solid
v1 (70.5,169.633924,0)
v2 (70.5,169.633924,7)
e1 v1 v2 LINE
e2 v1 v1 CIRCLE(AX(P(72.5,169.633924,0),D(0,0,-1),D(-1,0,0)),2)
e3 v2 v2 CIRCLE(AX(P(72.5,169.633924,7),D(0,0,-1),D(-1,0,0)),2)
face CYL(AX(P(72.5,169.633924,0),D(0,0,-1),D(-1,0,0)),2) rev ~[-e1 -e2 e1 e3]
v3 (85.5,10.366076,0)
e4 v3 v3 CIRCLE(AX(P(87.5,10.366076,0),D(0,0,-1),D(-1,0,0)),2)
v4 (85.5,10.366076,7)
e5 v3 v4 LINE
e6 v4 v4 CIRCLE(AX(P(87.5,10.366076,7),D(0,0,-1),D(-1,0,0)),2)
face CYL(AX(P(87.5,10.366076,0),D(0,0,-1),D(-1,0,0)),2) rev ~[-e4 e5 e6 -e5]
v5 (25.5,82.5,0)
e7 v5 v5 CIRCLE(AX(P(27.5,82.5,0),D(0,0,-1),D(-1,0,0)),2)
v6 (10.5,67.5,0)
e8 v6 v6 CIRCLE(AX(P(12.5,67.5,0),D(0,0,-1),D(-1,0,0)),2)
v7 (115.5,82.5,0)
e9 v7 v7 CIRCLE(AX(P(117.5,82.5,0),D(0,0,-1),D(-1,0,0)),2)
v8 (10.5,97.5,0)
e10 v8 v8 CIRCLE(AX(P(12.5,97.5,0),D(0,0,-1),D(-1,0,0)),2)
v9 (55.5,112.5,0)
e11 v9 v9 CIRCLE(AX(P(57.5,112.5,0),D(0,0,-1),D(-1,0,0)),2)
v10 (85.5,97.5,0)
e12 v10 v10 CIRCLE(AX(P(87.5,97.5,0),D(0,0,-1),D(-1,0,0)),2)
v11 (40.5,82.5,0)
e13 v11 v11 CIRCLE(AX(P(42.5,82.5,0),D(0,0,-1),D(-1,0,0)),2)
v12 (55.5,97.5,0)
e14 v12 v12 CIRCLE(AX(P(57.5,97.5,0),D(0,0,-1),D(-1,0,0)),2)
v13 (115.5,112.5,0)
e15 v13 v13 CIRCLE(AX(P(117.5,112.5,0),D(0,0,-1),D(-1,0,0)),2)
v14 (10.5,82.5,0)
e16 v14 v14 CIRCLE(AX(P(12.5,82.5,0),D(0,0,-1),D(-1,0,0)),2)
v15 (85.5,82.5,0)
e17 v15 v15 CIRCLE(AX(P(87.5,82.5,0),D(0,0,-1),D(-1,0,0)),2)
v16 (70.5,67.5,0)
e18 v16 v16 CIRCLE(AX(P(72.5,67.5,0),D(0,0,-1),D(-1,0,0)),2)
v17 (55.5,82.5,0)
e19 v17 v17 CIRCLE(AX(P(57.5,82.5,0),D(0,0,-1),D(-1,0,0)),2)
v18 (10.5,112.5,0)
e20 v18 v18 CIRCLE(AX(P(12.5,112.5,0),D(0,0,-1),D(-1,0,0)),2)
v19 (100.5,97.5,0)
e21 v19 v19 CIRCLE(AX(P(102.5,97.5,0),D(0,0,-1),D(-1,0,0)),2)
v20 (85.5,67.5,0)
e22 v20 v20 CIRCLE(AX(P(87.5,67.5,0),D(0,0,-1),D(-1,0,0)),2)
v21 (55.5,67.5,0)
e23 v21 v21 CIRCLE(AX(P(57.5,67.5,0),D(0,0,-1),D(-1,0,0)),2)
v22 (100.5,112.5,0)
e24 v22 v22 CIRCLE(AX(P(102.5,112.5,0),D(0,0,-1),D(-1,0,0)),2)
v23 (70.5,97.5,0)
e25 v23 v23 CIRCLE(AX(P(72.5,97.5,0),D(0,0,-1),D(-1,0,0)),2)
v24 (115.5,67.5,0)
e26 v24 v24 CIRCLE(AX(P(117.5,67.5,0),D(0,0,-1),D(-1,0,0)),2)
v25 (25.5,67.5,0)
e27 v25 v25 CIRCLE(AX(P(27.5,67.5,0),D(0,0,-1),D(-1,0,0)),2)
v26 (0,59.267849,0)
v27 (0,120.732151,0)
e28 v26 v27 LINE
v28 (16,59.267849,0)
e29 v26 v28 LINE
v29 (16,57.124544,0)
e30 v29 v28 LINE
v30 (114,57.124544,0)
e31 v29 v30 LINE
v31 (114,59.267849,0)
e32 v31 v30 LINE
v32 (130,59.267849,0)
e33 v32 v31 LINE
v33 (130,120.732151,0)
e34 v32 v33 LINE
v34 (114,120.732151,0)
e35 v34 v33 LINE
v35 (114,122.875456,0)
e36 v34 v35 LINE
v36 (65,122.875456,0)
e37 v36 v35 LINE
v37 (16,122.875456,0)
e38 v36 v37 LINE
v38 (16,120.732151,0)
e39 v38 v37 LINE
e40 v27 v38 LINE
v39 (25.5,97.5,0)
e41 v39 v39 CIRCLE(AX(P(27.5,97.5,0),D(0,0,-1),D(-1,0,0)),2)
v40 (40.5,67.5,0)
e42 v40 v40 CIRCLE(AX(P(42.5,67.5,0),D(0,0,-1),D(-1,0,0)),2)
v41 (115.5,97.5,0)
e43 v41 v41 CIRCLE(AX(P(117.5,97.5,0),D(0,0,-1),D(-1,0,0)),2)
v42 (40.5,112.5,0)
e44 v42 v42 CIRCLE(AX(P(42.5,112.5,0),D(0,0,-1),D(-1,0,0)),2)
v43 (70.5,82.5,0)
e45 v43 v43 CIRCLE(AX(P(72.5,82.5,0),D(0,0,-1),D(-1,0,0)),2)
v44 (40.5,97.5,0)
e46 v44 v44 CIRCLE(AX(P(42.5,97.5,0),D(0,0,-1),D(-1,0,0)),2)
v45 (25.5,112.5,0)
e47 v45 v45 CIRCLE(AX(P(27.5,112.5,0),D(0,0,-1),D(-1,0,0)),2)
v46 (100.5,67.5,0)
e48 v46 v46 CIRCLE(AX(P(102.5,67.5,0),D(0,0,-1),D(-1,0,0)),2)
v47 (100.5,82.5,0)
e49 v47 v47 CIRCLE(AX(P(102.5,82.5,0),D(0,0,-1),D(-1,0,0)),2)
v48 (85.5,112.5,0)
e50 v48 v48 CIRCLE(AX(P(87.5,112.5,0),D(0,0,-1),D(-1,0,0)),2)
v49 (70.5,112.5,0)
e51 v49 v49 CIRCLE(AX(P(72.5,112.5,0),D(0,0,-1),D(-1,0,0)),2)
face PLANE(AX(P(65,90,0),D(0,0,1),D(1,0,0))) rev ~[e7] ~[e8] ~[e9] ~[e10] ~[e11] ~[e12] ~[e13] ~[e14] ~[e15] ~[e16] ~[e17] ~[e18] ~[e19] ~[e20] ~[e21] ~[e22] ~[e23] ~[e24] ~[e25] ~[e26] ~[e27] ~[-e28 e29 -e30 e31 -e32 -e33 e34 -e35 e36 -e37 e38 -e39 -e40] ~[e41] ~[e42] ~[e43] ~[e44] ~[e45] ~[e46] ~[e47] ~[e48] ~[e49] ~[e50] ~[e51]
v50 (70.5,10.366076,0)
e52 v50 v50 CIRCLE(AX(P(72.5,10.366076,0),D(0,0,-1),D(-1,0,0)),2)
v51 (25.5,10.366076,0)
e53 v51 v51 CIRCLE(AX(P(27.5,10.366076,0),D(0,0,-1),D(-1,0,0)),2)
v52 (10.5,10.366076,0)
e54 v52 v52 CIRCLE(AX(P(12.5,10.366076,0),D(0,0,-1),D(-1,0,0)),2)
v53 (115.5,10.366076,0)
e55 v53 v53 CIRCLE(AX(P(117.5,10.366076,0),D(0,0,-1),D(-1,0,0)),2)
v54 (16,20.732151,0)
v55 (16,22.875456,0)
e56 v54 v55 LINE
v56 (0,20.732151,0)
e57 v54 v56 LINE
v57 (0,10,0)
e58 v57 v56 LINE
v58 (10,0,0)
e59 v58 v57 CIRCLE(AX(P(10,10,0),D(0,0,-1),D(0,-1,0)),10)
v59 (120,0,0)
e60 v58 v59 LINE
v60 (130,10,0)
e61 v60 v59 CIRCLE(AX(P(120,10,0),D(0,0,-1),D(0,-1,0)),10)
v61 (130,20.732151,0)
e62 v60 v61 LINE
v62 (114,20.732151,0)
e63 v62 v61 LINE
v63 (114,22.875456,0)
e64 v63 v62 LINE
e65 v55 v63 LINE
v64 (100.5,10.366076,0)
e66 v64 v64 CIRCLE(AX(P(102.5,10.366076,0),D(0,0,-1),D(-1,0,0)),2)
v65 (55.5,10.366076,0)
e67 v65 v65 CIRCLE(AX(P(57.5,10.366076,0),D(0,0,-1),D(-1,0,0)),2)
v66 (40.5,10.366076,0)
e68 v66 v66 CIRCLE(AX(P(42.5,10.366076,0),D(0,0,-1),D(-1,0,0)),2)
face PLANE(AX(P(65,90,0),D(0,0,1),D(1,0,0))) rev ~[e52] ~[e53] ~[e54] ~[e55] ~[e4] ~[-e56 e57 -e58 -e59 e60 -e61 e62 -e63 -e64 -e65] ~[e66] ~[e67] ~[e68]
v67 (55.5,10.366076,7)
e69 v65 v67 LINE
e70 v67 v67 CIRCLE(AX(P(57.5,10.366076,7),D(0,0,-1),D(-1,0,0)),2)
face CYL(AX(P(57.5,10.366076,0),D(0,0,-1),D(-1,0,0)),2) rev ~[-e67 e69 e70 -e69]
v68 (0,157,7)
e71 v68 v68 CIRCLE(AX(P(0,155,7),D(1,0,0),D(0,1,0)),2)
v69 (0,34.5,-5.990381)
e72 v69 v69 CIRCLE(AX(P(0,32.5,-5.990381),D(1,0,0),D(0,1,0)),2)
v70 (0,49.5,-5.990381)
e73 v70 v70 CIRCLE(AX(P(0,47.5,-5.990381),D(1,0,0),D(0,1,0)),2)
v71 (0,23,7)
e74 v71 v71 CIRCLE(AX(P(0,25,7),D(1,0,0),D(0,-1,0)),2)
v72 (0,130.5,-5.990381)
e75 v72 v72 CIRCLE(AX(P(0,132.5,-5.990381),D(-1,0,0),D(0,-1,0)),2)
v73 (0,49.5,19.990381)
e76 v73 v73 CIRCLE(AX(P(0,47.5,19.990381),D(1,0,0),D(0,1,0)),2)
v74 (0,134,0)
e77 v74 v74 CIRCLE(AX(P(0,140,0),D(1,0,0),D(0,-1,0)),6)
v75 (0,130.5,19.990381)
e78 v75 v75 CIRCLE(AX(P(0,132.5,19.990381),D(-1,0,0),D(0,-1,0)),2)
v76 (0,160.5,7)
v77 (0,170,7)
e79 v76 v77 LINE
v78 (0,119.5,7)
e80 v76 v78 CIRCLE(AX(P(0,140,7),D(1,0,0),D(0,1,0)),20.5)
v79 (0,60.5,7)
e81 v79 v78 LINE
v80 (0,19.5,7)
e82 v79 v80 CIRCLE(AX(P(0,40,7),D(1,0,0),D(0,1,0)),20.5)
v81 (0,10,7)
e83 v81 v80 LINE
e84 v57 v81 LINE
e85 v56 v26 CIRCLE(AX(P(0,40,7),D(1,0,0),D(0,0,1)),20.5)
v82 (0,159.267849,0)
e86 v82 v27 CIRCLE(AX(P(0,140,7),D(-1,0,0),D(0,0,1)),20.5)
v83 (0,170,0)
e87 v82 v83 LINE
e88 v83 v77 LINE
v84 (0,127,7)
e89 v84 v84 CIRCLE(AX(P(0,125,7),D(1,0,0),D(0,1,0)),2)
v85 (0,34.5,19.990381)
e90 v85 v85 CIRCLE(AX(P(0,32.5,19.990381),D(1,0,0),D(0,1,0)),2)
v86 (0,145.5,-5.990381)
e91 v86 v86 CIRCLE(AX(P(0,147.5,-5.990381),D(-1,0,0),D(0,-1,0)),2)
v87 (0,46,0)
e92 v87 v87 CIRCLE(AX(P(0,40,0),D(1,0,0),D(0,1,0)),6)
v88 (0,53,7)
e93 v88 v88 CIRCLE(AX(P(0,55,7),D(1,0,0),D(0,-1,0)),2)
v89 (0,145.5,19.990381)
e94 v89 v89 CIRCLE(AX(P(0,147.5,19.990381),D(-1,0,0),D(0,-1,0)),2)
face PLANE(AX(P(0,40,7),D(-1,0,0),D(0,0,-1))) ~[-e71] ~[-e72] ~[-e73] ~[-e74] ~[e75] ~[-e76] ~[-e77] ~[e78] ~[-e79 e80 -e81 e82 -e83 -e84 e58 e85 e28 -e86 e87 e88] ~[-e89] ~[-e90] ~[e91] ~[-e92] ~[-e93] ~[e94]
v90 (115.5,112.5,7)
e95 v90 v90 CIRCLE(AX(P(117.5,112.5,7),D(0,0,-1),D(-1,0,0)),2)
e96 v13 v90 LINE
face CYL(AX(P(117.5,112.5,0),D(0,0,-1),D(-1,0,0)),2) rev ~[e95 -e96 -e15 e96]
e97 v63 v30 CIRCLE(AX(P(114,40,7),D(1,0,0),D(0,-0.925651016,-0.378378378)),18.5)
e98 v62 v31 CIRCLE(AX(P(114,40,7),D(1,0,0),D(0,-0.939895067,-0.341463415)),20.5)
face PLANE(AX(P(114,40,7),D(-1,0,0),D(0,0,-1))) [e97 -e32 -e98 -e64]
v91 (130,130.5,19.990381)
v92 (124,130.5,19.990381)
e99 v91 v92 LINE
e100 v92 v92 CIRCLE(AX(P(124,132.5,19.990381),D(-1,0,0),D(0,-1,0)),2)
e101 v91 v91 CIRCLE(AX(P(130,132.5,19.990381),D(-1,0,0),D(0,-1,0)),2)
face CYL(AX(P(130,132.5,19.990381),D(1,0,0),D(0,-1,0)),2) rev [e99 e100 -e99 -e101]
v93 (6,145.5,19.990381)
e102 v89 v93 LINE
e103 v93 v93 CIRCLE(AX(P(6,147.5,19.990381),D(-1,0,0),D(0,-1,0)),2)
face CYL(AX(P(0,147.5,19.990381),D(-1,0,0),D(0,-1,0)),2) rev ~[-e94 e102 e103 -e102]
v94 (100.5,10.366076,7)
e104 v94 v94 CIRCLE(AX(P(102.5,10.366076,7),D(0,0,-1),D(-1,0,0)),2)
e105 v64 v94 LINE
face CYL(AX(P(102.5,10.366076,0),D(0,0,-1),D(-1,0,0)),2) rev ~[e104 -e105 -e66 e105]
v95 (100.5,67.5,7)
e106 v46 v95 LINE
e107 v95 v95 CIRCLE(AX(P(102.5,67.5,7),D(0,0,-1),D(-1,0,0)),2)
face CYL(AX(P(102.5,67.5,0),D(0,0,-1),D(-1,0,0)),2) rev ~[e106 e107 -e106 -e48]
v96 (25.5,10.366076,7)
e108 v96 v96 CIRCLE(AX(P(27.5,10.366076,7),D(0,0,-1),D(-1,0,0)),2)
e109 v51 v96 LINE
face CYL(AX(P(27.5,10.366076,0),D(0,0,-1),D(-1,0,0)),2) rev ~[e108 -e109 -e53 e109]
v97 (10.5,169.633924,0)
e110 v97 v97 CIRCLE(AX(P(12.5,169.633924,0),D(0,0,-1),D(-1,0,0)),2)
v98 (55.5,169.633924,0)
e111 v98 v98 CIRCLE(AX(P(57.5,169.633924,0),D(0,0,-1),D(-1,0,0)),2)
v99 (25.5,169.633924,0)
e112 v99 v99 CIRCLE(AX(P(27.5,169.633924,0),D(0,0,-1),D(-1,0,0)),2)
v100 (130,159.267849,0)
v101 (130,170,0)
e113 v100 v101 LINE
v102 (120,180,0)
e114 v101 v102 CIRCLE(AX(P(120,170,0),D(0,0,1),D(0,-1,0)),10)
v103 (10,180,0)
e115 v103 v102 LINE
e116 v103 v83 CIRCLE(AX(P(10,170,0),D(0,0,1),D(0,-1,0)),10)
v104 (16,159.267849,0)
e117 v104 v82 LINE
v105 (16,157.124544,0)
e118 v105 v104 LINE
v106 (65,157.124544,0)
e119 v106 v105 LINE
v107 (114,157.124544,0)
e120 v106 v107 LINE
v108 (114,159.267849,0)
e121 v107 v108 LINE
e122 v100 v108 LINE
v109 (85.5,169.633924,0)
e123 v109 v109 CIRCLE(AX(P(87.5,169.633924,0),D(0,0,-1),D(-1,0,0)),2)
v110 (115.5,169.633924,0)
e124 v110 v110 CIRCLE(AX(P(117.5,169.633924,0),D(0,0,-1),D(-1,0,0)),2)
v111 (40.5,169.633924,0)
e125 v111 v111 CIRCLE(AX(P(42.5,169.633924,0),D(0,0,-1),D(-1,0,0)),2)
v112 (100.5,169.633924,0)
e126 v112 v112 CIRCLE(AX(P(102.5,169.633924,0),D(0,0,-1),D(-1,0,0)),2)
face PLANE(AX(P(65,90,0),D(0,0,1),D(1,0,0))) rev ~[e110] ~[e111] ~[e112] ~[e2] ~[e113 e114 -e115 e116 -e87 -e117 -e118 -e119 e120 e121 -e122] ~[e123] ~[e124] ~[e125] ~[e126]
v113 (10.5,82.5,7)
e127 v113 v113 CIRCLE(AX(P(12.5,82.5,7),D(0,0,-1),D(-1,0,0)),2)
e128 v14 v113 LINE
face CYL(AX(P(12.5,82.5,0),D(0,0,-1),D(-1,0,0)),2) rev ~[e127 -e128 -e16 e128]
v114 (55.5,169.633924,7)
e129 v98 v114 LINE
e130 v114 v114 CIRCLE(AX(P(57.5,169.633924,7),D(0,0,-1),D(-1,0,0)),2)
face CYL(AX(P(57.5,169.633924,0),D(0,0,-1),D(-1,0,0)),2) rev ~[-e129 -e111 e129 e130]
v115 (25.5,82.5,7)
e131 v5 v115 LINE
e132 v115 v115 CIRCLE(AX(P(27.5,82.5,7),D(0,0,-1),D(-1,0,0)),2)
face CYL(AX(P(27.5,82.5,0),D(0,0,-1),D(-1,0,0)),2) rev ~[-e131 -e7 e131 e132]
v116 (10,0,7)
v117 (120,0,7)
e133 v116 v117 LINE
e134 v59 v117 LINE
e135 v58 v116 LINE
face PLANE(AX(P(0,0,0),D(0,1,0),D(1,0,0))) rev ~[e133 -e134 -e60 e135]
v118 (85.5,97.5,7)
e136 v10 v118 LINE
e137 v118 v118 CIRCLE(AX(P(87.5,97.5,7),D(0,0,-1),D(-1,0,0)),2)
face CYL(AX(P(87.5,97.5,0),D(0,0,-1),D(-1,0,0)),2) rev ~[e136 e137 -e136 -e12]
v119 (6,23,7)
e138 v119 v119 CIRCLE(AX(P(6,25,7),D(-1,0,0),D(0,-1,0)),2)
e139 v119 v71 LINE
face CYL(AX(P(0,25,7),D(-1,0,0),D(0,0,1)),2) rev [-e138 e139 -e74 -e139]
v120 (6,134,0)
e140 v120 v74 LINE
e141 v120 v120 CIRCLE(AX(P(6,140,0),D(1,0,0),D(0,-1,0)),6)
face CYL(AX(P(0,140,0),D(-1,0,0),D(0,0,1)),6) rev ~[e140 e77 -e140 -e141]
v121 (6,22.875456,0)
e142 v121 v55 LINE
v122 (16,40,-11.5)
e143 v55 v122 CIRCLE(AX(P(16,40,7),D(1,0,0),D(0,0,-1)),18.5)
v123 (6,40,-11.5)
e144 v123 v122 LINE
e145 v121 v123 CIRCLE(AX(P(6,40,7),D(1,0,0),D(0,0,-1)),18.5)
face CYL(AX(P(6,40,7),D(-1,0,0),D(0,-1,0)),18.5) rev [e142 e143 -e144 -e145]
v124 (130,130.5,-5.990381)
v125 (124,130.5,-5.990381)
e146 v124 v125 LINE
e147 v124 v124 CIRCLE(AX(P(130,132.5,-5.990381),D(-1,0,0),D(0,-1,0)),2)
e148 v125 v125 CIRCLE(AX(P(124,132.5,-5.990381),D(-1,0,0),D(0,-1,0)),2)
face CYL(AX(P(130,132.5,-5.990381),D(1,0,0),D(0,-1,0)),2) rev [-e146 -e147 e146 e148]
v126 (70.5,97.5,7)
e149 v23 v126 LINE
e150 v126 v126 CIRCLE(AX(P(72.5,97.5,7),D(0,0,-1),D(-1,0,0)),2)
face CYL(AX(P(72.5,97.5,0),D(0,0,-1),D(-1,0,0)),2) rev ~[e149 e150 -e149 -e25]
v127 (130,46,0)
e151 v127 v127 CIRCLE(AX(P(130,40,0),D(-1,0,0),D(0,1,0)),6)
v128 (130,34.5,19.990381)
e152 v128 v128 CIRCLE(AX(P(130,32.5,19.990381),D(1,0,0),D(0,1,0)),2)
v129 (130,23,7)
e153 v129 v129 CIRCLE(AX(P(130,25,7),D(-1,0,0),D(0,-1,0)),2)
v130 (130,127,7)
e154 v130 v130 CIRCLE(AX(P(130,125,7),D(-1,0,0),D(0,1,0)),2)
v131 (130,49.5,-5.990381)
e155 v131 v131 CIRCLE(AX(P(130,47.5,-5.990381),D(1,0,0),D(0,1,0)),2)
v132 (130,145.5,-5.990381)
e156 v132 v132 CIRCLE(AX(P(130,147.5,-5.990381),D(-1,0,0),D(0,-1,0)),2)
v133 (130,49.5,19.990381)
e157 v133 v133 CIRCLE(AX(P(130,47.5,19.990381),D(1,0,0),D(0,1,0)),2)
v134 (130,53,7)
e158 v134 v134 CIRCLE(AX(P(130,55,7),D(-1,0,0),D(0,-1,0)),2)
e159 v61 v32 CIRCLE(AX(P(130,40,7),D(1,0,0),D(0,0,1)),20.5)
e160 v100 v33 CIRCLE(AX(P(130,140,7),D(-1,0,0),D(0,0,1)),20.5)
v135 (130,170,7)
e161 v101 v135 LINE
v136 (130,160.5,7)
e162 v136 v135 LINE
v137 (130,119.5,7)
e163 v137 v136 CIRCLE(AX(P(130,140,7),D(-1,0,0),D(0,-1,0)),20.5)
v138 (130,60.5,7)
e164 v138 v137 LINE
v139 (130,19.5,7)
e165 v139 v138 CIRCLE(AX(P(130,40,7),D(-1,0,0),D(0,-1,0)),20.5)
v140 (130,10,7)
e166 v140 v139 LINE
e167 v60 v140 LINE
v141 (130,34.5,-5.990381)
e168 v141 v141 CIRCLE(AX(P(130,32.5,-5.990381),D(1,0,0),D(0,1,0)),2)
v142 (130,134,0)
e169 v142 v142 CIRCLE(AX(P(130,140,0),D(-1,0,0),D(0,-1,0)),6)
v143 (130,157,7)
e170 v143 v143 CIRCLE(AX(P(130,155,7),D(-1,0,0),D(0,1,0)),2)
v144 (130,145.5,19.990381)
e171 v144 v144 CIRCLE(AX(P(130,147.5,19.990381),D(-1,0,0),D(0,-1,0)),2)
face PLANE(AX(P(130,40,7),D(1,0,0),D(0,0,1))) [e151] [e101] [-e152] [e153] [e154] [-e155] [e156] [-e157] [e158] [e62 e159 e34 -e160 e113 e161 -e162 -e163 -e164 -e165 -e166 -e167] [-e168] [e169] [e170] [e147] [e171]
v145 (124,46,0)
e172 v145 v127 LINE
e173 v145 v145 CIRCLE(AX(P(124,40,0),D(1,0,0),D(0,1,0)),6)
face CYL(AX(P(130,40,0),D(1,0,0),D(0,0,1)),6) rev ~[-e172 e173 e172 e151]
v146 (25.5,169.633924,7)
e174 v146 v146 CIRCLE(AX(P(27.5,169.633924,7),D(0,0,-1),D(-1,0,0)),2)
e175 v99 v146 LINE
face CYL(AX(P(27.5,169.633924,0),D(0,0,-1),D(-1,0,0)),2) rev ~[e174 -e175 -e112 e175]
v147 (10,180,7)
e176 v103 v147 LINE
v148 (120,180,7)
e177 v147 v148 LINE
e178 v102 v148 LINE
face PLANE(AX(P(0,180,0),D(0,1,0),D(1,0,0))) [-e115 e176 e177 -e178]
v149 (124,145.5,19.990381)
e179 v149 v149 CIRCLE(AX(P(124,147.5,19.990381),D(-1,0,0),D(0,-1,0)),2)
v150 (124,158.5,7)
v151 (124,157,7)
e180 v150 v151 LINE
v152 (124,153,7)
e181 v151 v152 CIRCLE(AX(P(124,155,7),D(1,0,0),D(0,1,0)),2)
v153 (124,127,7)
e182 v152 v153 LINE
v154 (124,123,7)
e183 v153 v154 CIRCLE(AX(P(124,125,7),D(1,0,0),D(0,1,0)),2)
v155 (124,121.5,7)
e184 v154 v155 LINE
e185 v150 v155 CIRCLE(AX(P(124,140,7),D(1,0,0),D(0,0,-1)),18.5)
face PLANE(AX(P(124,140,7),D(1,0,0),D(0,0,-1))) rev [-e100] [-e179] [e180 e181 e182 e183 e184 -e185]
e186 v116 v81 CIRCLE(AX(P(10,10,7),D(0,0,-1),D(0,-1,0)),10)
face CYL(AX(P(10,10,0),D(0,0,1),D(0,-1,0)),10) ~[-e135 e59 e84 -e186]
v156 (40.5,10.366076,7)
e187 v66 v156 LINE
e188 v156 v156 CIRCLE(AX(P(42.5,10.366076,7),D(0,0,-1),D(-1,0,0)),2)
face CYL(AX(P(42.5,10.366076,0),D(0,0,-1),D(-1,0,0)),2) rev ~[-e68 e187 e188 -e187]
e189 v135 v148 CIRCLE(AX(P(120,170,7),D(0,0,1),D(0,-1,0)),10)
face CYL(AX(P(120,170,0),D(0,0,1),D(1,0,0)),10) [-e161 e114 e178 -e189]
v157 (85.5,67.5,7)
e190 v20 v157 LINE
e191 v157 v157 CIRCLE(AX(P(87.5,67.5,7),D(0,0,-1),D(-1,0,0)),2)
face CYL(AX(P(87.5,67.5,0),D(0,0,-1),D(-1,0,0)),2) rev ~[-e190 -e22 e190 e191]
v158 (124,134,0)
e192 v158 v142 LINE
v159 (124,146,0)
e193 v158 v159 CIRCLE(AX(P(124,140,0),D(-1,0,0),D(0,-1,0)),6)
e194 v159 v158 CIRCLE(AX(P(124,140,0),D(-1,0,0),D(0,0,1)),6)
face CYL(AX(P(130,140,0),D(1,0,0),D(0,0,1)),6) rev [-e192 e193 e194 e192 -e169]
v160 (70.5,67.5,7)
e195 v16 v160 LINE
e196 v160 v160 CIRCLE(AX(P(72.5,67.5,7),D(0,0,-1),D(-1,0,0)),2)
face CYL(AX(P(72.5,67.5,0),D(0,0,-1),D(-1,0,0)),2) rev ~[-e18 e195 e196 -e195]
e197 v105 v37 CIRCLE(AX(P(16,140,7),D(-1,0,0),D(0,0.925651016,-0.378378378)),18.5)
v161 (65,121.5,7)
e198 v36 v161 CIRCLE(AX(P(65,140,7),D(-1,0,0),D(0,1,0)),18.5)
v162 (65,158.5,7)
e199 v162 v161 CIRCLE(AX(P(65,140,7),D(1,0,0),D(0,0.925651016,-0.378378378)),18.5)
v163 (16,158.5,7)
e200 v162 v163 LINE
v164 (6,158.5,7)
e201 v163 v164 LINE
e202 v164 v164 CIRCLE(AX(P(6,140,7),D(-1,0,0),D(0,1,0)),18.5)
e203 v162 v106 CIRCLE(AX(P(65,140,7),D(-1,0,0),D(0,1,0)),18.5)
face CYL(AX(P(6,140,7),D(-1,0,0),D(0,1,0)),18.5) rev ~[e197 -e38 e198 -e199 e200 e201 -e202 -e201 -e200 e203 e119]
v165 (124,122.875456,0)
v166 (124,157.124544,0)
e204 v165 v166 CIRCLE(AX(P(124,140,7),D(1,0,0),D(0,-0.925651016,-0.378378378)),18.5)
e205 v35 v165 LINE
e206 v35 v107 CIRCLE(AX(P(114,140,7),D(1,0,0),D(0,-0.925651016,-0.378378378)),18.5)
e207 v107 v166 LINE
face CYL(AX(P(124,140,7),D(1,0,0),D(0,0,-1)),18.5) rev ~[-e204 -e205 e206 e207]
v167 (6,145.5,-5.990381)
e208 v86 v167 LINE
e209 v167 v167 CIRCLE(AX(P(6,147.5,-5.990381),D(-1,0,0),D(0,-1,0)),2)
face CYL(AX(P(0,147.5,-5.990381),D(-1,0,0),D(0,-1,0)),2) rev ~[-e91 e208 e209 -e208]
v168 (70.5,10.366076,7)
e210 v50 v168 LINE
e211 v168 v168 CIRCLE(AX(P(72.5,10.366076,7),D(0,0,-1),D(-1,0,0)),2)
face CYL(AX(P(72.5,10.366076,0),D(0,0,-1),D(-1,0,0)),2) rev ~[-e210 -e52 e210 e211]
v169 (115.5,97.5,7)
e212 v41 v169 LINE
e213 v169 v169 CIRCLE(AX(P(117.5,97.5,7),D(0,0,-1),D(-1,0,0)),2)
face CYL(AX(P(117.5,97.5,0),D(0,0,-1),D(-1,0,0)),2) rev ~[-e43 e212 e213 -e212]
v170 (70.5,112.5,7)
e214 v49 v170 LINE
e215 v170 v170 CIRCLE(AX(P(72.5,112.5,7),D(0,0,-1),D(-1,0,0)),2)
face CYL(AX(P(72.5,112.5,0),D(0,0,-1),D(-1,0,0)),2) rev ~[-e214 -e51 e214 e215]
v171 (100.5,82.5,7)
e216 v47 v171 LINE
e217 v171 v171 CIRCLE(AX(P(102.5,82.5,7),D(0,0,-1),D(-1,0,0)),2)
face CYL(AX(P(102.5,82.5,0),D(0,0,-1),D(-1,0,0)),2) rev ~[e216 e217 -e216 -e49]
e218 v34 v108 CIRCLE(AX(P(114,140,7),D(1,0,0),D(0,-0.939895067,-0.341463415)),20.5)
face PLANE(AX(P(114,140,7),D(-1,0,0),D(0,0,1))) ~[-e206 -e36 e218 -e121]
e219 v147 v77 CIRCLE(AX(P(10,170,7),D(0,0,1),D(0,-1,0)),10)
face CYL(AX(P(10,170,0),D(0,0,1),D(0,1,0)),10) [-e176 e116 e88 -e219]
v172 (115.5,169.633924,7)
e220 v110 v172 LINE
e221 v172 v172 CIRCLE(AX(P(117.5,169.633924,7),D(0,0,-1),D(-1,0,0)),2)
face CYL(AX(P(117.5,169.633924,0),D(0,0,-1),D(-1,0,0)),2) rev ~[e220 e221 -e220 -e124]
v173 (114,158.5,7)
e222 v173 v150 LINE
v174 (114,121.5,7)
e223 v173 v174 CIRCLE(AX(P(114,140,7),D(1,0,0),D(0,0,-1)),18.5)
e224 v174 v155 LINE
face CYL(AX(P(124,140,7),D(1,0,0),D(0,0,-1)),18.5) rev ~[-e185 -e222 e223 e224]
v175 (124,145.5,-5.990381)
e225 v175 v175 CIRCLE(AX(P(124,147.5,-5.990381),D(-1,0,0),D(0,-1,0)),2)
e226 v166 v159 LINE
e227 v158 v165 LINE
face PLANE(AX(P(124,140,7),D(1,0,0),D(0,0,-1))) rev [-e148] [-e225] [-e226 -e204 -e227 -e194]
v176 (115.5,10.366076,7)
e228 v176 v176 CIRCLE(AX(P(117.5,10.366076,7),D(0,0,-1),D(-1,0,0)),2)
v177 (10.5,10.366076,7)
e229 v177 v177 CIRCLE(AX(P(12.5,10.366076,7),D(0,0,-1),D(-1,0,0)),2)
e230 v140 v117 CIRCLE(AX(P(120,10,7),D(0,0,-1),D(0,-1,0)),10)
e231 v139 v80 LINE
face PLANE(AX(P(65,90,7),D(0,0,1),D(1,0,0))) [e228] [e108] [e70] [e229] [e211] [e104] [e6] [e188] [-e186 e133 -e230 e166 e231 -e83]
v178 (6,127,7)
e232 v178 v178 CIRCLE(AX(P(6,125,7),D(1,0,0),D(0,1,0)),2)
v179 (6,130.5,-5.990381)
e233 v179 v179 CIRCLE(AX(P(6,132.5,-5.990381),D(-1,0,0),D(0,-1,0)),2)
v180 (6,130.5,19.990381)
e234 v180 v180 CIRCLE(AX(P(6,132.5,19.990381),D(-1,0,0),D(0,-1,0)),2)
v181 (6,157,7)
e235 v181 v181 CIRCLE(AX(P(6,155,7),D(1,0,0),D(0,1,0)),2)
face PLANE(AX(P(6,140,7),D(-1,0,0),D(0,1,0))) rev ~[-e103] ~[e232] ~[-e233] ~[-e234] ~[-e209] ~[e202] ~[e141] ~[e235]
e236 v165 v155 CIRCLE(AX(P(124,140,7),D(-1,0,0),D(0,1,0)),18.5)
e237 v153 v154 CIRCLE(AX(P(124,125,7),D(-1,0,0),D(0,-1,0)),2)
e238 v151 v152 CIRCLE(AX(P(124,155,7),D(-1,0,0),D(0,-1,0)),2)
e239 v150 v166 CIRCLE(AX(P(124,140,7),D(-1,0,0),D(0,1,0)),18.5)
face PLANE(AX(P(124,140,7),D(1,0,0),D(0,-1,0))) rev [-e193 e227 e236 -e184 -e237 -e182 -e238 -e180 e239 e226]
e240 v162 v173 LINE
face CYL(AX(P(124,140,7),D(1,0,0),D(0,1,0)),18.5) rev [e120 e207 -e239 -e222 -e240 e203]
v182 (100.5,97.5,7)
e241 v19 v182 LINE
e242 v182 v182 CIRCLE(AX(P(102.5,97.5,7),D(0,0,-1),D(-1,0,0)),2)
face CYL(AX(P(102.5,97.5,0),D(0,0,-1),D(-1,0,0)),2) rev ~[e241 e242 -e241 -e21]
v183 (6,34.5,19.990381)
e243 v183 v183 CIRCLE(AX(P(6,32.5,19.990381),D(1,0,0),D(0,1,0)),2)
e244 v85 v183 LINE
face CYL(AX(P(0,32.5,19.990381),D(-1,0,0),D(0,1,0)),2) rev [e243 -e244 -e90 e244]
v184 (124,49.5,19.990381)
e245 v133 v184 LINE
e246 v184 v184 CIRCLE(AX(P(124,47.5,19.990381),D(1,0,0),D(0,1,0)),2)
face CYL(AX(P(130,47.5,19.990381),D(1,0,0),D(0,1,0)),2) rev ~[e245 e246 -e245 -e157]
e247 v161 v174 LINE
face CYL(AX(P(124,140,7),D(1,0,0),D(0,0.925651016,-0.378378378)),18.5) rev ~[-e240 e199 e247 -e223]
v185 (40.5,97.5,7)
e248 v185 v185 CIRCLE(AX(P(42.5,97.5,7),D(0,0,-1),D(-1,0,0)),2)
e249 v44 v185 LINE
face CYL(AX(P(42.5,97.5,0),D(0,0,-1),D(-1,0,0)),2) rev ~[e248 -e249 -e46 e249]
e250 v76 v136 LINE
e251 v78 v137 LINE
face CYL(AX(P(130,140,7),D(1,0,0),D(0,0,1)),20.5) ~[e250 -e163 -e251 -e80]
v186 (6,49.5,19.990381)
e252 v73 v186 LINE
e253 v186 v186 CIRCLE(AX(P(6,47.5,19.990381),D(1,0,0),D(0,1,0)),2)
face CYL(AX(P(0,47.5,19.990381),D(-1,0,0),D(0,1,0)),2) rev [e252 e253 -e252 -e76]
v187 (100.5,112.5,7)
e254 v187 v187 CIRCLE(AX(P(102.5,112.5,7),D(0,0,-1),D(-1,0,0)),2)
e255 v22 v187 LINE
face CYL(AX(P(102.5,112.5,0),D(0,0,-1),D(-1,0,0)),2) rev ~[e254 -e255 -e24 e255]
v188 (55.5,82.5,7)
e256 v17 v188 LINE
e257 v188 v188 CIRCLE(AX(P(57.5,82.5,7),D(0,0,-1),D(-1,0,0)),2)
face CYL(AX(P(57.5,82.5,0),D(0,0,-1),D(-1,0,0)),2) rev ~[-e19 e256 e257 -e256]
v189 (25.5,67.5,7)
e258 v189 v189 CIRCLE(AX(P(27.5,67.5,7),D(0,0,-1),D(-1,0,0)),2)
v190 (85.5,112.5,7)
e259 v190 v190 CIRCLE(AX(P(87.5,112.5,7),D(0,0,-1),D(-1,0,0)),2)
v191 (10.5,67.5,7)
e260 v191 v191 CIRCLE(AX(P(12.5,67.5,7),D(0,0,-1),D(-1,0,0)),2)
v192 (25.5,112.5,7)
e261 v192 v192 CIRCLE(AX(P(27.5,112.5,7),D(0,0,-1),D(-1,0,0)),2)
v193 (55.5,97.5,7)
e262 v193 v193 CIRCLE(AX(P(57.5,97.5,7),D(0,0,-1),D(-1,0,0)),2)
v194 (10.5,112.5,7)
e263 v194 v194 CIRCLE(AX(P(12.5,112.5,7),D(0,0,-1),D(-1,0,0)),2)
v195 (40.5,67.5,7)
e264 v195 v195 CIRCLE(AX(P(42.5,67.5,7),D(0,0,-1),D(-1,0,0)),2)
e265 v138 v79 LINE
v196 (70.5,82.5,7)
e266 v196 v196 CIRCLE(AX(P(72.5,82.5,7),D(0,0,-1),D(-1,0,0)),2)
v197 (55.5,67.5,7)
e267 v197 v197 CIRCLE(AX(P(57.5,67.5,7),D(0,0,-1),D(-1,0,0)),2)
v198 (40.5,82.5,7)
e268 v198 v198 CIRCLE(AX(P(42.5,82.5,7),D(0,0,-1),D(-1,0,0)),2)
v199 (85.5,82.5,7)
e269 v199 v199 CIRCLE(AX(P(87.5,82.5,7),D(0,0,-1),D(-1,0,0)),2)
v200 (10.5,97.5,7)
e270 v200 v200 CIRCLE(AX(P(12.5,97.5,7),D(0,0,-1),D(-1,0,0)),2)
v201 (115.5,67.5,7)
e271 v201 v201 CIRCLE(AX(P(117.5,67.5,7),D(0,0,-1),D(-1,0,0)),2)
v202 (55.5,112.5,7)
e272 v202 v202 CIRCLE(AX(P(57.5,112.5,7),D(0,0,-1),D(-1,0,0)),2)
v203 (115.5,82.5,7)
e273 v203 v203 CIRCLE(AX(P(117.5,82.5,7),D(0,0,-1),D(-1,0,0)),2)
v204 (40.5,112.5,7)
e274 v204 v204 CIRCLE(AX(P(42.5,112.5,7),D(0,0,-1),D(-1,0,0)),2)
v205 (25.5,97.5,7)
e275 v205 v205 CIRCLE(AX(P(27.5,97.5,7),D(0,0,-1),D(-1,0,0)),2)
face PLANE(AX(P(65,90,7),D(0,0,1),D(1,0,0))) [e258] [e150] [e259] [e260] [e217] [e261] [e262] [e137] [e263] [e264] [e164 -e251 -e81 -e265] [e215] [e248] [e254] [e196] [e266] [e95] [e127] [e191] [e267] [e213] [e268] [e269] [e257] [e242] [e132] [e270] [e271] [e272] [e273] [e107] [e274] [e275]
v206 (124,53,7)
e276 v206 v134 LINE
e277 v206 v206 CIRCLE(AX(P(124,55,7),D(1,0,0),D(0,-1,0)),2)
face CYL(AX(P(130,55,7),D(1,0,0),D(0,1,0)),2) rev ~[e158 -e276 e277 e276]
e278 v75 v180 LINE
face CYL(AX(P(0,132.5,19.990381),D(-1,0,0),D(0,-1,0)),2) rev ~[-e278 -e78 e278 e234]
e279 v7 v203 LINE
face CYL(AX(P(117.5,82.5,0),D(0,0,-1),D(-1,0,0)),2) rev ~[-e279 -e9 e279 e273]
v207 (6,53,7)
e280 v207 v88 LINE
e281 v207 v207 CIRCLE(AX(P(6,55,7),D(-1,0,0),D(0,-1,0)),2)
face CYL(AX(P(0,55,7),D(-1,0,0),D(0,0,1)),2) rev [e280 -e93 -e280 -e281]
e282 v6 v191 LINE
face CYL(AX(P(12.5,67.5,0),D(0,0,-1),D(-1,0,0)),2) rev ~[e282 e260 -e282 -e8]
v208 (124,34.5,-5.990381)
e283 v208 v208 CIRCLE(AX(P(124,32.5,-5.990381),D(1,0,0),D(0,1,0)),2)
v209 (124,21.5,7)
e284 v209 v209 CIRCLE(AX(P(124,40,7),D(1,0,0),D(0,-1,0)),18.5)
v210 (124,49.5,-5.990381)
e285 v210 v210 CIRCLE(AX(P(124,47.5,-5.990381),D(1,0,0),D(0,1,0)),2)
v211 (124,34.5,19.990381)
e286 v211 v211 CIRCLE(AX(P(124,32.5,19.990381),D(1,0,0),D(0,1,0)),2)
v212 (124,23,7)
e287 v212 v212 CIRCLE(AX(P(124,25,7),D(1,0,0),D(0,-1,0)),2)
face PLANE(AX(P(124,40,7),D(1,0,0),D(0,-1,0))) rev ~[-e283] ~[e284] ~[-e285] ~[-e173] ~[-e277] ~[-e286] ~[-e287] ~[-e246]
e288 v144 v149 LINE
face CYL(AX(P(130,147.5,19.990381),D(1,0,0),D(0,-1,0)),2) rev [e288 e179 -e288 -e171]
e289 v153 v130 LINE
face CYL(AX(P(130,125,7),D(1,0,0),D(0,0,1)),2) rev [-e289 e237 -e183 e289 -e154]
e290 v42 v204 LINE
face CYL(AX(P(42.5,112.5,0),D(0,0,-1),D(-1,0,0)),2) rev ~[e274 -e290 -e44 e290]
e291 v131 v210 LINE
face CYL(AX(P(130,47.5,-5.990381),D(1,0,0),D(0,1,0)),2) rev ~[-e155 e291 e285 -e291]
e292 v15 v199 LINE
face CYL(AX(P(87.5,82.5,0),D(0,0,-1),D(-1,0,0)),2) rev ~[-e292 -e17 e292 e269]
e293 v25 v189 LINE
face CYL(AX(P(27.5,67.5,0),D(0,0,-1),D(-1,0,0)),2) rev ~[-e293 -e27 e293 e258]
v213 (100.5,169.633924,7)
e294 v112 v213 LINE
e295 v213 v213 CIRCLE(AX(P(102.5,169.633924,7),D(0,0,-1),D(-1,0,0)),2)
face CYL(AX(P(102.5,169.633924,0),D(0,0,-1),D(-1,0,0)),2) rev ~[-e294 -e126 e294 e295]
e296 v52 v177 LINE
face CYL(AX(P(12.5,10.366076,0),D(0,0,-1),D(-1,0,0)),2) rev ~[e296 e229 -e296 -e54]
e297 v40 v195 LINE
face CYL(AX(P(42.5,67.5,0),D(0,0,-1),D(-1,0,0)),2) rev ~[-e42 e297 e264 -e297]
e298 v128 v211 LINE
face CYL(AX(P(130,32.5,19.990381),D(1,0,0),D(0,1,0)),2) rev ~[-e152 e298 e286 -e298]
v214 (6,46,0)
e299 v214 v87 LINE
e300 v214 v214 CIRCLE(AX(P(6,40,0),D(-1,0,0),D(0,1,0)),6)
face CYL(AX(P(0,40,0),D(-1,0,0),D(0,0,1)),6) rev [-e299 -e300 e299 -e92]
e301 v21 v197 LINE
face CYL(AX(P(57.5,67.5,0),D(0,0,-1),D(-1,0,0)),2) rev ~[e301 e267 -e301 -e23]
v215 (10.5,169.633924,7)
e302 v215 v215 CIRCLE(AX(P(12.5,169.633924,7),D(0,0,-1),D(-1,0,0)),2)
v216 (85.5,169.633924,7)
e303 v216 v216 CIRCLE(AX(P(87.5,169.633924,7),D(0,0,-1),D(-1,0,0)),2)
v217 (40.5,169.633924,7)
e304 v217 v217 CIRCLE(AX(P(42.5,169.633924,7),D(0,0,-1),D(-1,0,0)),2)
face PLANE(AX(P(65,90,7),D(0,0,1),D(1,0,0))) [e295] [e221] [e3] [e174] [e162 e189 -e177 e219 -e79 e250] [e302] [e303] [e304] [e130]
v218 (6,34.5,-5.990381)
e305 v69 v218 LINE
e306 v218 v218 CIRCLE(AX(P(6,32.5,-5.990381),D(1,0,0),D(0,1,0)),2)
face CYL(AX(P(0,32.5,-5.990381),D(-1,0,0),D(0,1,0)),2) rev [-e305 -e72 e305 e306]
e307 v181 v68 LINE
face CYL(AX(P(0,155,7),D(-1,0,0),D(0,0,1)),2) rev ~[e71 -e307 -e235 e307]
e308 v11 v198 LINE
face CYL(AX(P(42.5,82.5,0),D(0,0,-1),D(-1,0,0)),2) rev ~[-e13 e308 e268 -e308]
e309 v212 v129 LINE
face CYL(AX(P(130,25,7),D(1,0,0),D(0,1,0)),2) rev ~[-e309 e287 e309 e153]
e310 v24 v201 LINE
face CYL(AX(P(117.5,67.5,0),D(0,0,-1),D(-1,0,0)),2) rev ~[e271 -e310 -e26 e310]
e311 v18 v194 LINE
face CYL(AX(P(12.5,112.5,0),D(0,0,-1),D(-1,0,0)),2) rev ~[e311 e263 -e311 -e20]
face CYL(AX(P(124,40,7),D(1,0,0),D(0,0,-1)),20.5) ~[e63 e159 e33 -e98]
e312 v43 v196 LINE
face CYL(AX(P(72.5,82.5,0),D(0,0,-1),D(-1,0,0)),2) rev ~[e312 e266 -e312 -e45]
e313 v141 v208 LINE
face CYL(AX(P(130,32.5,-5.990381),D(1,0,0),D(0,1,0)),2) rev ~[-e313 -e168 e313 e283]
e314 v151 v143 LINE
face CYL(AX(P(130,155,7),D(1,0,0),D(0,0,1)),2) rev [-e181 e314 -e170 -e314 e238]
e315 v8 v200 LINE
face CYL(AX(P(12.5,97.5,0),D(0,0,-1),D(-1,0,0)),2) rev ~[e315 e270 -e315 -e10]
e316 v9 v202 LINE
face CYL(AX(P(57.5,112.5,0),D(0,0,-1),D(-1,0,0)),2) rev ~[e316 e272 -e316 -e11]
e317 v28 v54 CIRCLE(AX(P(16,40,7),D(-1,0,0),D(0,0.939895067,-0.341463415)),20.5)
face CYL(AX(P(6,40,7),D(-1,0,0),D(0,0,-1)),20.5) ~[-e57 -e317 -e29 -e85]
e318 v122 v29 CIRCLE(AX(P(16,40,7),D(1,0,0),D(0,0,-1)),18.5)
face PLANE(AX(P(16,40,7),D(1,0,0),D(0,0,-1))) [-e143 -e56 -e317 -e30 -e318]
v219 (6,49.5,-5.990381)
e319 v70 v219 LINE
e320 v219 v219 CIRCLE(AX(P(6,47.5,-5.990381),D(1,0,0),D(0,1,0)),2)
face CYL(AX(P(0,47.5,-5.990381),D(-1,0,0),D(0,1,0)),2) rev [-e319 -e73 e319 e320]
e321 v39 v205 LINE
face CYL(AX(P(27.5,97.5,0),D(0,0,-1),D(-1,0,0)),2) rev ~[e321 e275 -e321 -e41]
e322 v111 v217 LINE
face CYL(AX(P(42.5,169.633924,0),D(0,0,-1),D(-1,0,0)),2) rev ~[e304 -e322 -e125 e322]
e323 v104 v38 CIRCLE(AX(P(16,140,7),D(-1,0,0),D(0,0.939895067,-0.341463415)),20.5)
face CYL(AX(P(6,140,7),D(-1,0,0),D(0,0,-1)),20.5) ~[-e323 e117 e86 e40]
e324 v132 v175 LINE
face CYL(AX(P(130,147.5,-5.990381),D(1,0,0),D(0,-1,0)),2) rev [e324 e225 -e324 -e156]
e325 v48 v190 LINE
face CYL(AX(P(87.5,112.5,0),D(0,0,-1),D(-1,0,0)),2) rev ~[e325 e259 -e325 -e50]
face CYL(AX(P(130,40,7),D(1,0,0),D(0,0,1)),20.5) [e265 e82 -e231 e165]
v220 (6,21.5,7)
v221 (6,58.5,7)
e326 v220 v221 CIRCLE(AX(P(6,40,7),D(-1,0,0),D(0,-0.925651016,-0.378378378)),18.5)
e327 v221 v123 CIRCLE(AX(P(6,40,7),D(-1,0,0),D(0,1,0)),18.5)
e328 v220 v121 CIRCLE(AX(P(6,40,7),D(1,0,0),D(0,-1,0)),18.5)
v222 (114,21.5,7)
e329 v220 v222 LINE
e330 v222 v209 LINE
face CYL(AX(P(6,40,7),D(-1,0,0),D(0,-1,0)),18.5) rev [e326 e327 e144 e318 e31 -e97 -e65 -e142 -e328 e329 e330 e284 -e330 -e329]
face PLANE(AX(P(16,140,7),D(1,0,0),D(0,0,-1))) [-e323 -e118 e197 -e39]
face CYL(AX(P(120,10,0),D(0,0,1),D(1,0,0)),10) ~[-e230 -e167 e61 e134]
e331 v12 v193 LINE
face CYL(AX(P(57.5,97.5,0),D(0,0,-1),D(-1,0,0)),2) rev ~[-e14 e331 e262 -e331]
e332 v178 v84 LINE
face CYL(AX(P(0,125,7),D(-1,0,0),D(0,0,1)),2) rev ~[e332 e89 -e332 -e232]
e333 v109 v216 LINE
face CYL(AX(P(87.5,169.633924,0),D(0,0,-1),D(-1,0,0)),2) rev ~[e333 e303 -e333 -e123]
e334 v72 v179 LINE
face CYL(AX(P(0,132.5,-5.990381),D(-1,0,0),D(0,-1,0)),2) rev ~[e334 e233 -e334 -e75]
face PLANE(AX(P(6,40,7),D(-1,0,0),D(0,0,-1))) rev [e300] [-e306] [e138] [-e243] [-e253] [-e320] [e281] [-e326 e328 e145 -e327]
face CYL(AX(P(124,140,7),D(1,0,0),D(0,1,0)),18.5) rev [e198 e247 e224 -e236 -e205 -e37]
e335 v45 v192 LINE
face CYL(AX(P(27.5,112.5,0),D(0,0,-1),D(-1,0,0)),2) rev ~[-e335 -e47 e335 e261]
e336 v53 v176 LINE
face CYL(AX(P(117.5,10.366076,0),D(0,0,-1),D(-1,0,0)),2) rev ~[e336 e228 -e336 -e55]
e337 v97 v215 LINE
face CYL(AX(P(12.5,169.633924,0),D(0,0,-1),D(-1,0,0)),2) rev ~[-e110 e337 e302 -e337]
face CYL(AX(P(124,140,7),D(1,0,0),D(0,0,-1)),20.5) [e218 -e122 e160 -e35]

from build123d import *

# Parameters (mm, degrees)
SKIZZE1_W                        = 130
SKIZZE1_H                        = 180
AUFSATZ_LINEAR_AUSTRAGEN1_DEPTH  = 7
SKIZZE2_R                        = 20.5
SKIZZE2_R_2                      = 6
SKIZZE2_R_3                      = 2
AUFSATZ_LINEAR_AUSTRAGEN3_DEPTH  = 6
SKIZZE14_R                       = 20.5
SKIZZE14_R_2                     = 18.5
AUFSATZ_LINEAR_AUSTRAGEN14_DEPTH = 10
AUFSATZ_LINEAR_AUSTRAGEN4_DEPTH  = 59
SCHNITT_LINEAR_START             = 59
SKIZZE10_R                       = 18.5
SCHNITT_LINEAR_AUSTRAGEN3_DEPTH  = 59
SKIZZE11_R                       = 2
SKIZZE11_R_2                     = 6
SCHNITT_LINEAR_AUSTRAGEN4_DEPTH  = 6
SPIEGELN2_COPY_1_SKETCH_R        = 20.5
SPIEGELN2_COPY_1_SKETCH_R_2      = 6
SPIEGELN2_COPY_1_SKETCH_R_3      = 2
SPIEGELN2_COPY_1_DEPTH           = 6
SPIEGELN2_COPY_2_SKETCH_R        = 20.5
SPIEGELN2_COPY_2_SKETCH_R_2      = 18.5
SPIEGELN2_COPY_2_DEPTH           = 10
SPIEGELN2_COPY_3_DEPTH           = 59
SPIEGELN2_START                  = 59
SPIEGELN2_COPY_4_SKETCH_R        = 18.5
SPIEGELN2_COPY_4_DEPTH           = 59
SPIEGELN2_COPY_5_SKETCH_R        = 2
SPIEGELN2_COPY_5_SKETCH_R_2      = 6
SPIEGELN2_COPY_5_DEPTH           = 6
SPIEGELN2_COPY_6_SKETCH_R        = 20.5
SPIEGELN2_COPY_6_SKETCH_R_2      = 18.5
SPIEGELN2_COPY_6_DEPTH           = 10
SKIZZE13_R                       = 2
SCHNITT_LINEAR_AUSTRAGEN6_DEPTH  = 20
VERRUNDUNG1_R                    = 10


with BuildPart() as part:
    # Skizze1 → Aufsatz-Linear austragen1 (new body)
    with BuildSketch(Plane.XY):
        with Locations((65, 90)):
            Rectangle(SKIZZE1_W, SKIZZE1_H)
    extrude(amount=AUFSATZ_LINEAR_AUSTRAGEN1_DEPTH)

    # Skizze2 → Aufsatz-Linear austragen3 (add)
    with BuildSketch(Plane.ZY):
        with Locations((7, 140)):
            Circle(SKIZZE2_R)
        with Locations((0, 140)):
            Circle(SKIZZE2_R_2, mode=Mode.SUBTRACT)
        with Locations(Location((19.990381057, 147.5, 0), (0, 0, 270))):
            Circle(SKIZZE2_R_3, mode=Mode.SUBTRACT)
        with Locations(Location((19.990381057, 132.5, 0), (0, 0, 270))):
            Circle(SKIZZE2_R_3, mode=Mode.SUBTRACT)
        with Locations((7, 125)):
            Circle(SKIZZE2_R_3, mode=Mode.SUBTRACT)
        with Locations((7, 155)):
            Circle(SKIZZE2_R_3, mode=Mode.SUBTRACT)
        with Locations(Location((-5.990381057, 147.5, 0), (0, 0, 270))):
            Circle(SKIZZE2_R_3, mode=Mode.SUBTRACT)
        with Locations(Location((-5.990381057, 132.5, 0), (0, 0, 270))):
            Circle(SKIZZE2_R_3, mode=Mode.SUBTRACT)
    aufsatz_linear_austragen3 = extrude(amount=-AUFSATZ_LINEAR_AUSTRAGEN3_DEPTH)

    # Skizze14 → Aufsatz-Linear austragen14 (add)
    with BuildSketch(Plane(origin=(6, 0, 0), x_dir=(0, 0, -1), z_dir=(1, 0, 0))):
        with Locations((-7, 140)):
            Circle(SKIZZE14_R)
        with Locations((-7, 140)):
            Circle(SKIZZE14_R_2, mode=Mode.SUBTRACT)
    aufsatz_linear_austragen14 = extrude(amount=AUFSATZ_LINEAR_AUSTRAGEN14_DEPTH)

    # Skizze7 → Aufsatz-Linear austragen4 (add)
    with BuildSketch(Plane(origin=(6, 0, 0), x_dir=(0, 0, -1), z_dir=(1, 0, 0))):
        with BuildLine():
            Line((0, 159.267848868), (0, 157.12454379))
            ThreePointArc((0, 157.12454379), (-25.5, 140), (0, 122.87545621))
            Line((0, 122.87545621), (0, 120.732151132))
            ThreePointArc((0, 120.732151132), (-27.5, 140), (0, 159.267848868))
        make_face()
    aufsatz_linear_austragen4 = extrude(amount=AUFSATZ_LINEAR_AUSTRAGEN4_DEPTH)

    # Skizze10 → Schnitt-Linear austragen3 (cut)
    with BuildSketch(Plane.ZY.offset(-65).offset(SCHNITT_LINEAR_START)):
        with Locations(Location((7, 140, 0), (0, 0, 90))):
            Circle(SKIZZE10_R)
    schnitt_linear_austragen3 = extrude(amount=-SCHNITT_LINEAR_AUSTRAGEN3_DEPTH, mode=Mode.SUBTRACT)

    # Skizze11 → Schnitt-Linear austragen4 (cut)
    with BuildSketch(Plane.ZY):
        with Locations(Location((7, 155, 0), (0, 0, 270))):
            Circle(SKIZZE11_R)
        with Locations(Location((7, 125, 0), (0, 0, 270))):
            Circle(SKIZZE11_R)
        with Locations(Location((0, 140, 0), (0, 0, 270))):
            Circle(SKIZZE11_R_2)
    schnitt_linear_austragen4 = extrude(amount=-SCHNITT_LINEAR_AUSTRAGEN4_DEPTH, mode=Mode.SUBTRACT)

    # Spiegeln1: Aufsatz-Linear austragen3, Aufsatz-Linear austragen14, Aufsatz-Linear austragen4, Schnitt-Linear austragen3, Schnitt-Linear austragen4 across plane
    add(aufsatz_linear_austragen3.mirror(Plane.ZY.offset(-65)))
    add(aufsatz_linear_austragen14.mirror(Plane.ZY.offset(-65)))
    add(aufsatz_linear_austragen4.mirror(Plane.ZY.offset(-65)))
    add(schnitt_linear_austragen3.mirror(Plane.ZY.offset(-65)), mode=Mode.SUBTRACT)
    add(schnitt_linear_austragen4.mirror(Plane.ZY.offset(-65)), mode=Mode.SUBTRACT)

    # Spiegeln2: Aufsatz-Linear austragen3, Aufsatz-Linear austragen4, Schnitt-Linear austragen3, Schnitt-Linear austragen4 across plane
    add(aufsatz_linear_austragen3.mirror(Plane(origin=(0, 90, 0), x_dir=(0, 0, 1), z_dir=(0, -1, 0))))
    add(aufsatz_linear_austragen4.mirror(Plane(origin=(0, 90, 0), x_dir=(0, 0, 1), z_dir=(0, -1, 0))))
    add(schnitt_linear_austragen3.mirror(Plane(origin=(0, 90, 0), x_dir=(0, 0, 1), z_dir=(0, -1, 0))), mode=Mode.SUBTRACT)
    add(schnitt_linear_austragen4.mirror(Plane(origin=(0, 90, 0), x_dir=(0, 0, 1), z_dir=(0, -1, 0))), mode=Mode.SUBTRACT)

    # Spiegeln2 copy 1 sketch → Spiegeln2 copy 1 (add)
    with BuildSketch(Plane(origin=(130, 180, 0), x_dir=(0, 0, 1), z_dir=(1, 0, 0))):
        with Locations((7, 140)):
            Circle(SPIEGELN2_COPY_1_SKETCH_R)
        with Locations((0, 140)):
            Circle(SPIEGELN2_COPY_1_SKETCH_R_2, mode=Mode.SUBTRACT)
        with Locations(Location((19.990381057, 147.5, 0), (0, 0, 270))):
            Circle(SPIEGELN2_COPY_1_SKETCH_R_3, mode=Mode.SUBTRACT)
        with Locations(Location((19.990381057, 132.5, 0), (0, 0, 270))):
            Circle(SPIEGELN2_COPY_1_SKETCH_R_3, mode=Mode.SUBTRACT)
        with Locations((7, 125)):
            Circle(SPIEGELN2_COPY_1_SKETCH_R_3, mode=Mode.SUBTRACT)
        with Locations((7, 155)):
            Circle(SPIEGELN2_COPY_1_SKETCH_R_3, mode=Mode.SUBTRACT)
        with Locations(Location((-5.990381057, 147.5, 0), (0, 0, 270))):
            Circle(SPIEGELN2_COPY_1_SKETCH_R_3, mode=Mode.SUBTRACT)
        with Locations(Location((-5.990381057, 132.5, 0), (0, 0, 270))):
            Circle(SPIEGELN2_COPY_1_SKETCH_R_3, mode=Mode.SUBTRACT)
    extrude(amount=-SPIEGELN2_COPY_1_DEPTH)

    # Spiegeln2 copy 2 sketch → Spiegeln2 copy 2 (add)
    with BuildSketch(Plane(origin=(124, 180, 0), x_dir=(0, 0, -1), z_dir=(-1, 0, 0))):
        with Locations((-7, 140)):
            Circle(SPIEGELN2_COPY_2_SKETCH_R)
        with Locations((-7, 140)):
            Circle(SPIEGELN2_COPY_2_SKETCH_R_2, mode=Mode.SUBTRACT)
    extrude(amount=SPIEGELN2_COPY_2_DEPTH)

    # Spiegeln2 copy 3 sketch → Spiegeln2 copy 3 (add)
    with BuildSketch(Plane(origin=(124, 180, 0), x_dir=(0, 0, -1), z_dir=(-1, 0, 0))):
        with BuildLine():
            Line((0, 159.267848868), (0, 157.12454379))
            ThreePointArc((0, 157.12454379), (-25.5, 140), (0, 122.87545621))
            Line((0, 122.87545621), (0, 120.732151132))
            ThreePointArc((0, 120.732151132), (-27.5, 140), (0, 159.267848868))
        make_face()
    extrude(amount=SPIEGELN2_COPY_3_DEPTH)

    # Spiegeln2 copy 4 sketch → Spiegeln2 copy 4 (cut)
    with BuildSketch(Plane(origin=(65, 180, 0), x_dir=(0, 0, 1), z_dir=(1, 0, 0)).offset(SPIEGELN2_START)):
        with Locations(Location((7, 140, 0), (0, 0, 90))):
            Circle(SPIEGELN2_COPY_4_SKETCH_R)
    extrude(amount=-SPIEGELN2_COPY_4_DEPTH, mode=Mode.SUBTRACT)

    # Spiegeln2 copy 5 sketch → Spiegeln2 copy 5 (cut)
    with BuildSketch(Plane(origin=(130, 180, 0), x_dir=(0, 0, 1), z_dir=(1, 0, 0))):
        with Locations(Location((7, 155, 0), (0, 0, 270))):
            Circle(SPIEGELN2_COPY_5_SKETCH_R)
        with Locations(Location((7, 125, 0), (0, 0, 270))):
            Circle(SPIEGELN2_COPY_5_SKETCH_R)
        with Locations(Location((0, 140, 0), (0, 0, 270))):
            Circle(SPIEGELN2_COPY_5_SKETCH_R_2)
    extrude(amount=-SPIEGELN2_COPY_5_DEPTH, mode=Mode.SUBTRACT)

    # Spiegeln2 copy 6 sketch → Spiegeln2 copy 6 (add)
    with BuildSketch(Plane(origin=(6, 180, 0), x_dir=(0, 0, -1), z_dir=(1, 0, 0))):
        with Locations((-7, -140)):
            Circle(SPIEGELN2_COPY_6_SKETCH_R)
        with Locations((-7, -140)):
            Circle(SPIEGELN2_COPY_6_SKETCH_R_2, mode=Mode.SUBTRACT)
    extrude(amount=SPIEGELN2_COPY_6_DEPTH)

    # Skizze13 → Schnitt-Linear austragen6 (cut)
    with BuildSketch(Plane(origin=(0, 0, 0), x_dir=(-1, 0, 0), z_dir=(0, 0, -1))):
        with Locations((-12.5, 112.5)):
            Circle(SKIZZE13_R)
        with Locations((-27.5, 112.5)):
            Circle(SKIZZE13_R)
        with Locations((-42.5, 112.5)):
            Circle(SKIZZE13_R)
        with Locations((-57.5, 112.5)):
            Circle(SKIZZE13_R)
        with Locations((-72.5, 112.5)):
            Circle(SKIZZE13_R)
        with Locations((-87.5, 112.5)):
            Circle(SKIZZE13_R)
        with Locations((-102.5, 112.5)):
            Circle(SKIZZE13_R)
        with Locations((-117.5, 112.5)):
            Circle(SKIZZE13_R)
        with Locations((-27.5, 97.5)):
            Circle(SKIZZE13_R)
        with Locations((-42.5, 97.5)):
            Circle(SKIZZE13_R)
        with Locations((-57.5, 97.5)):
            Circle(SKIZZE13_R)
        with Locations((-72.5, 97.5)):
            Circle(SKIZZE13_R)
        with Locations((-87.5, 97.5)):
            Circle(SKIZZE13_R)
        with Locations((-102.5, 97.5)):
            Circle(SKIZZE13_R)
        with Locations((-117.5, 97.5)):
            Circle(SKIZZE13_R)
        with Locations((-27.5, 82.5)):
            Circle(SKIZZE13_R)
        with Locations((-42.5, 82.5)):
            Circle(SKIZZE13_R)
        with Locations((-57.5, 82.5)):
            Circle(SKIZZE13_R)
        with Locations((-72.5, 82.5)):
            Circle(SKIZZE13_R)
        with Locations((-87.5, 82.5)):
            Circle(SKIZZE13_R)
        with Locations((-102.5, 82.5)):
            Circle(SKIZZE13_R)
        with Locations((-117.5, 82.5)):
            Circle(SKIZZE13_R)
        with Locations((-27.5, 67.5)):
            Circle(SKIZZE13_R)
        with Locations((-42.5, 67.5)):
            Circle(SKIZZE13_R)
        with Locations((-57.5, 67.5)):
            Circle(SKIZZE13_R)
        with Locations((-72.5, 67.5)):
            Circle(SKIZZE13_R)
        with Locations((-87.5, 67.5)):
            Circle(SKIZZE13_R)
        with Locations((-102.5, 67.5)):
            Circle(SKIZZE13_R)
        with Locations((-117.5, 67.5)):
            Circle(SKIZZE13_R)
        with Locations((-12.5, 97.5)):
            Circle(SKIZZE13_R)
        with Locations((-12.5, 82.5)):
            Circle(SKIZZE13_R)
        with Locations((-12.5, 67.5)):
            Circle(SKIZZE13_R)
        with Locations((-117.5, 169.633924434)):
            Circle(SKIZZE13_R)
        with Locations((-102.5, 169.633924434)):
            Circle(SKIZZE13_R)
        with Locations((-87.5, 169.633924434)):
            Circle(SKIZZE13_R)
        with Locations((-72.5, 169.633924434)):
            Circle(SKIZZE13_R)
        with Locations((-57.5, 169.633924434)):
            Circle(SKIZZE13_R)
        with Locations((-42.5, 169.633924434)):
            Circle(SKIZZE13_R)
        with Locations((-27.5, 169.633924434)):
            Circle(SKIZZE13_R)
        with Locations((-12.5, 169.633924434)):
            Circle(SKIZZE13_R)
        with Locations((-12.5, 10.366075566)):
            Circle(SKIZZE13_R)
        with Locations((-27.5, 10.366075566)):
            Circle(SKIZZE13_R)
        with Locations((-42.5, 10.366075566)):
            Circle(SKIZZE13_R)
        with Locations((-57.5, 10.366075566)):
            Circle(SKIZZE13_R)
        with Locations((-72.5, 10.366075566)):
            Circle(SKIZZE13_R)
        with Locations((-87.5, 10.366075566)):
            Circle(SKIZZE13_R)
        with Locations((-102.5, 10.366075566)):
            Circle(SKIZZE13_R)
        with Locations((-117.5, 10.366075566)):
            Circle(SKIZZE13_R)
    extrude(amount=-SCHNITT_LINEAR_AUSTRAGEN6_DEPTH, mode=Mode.SUBTRACT)

    # Verrundung1
    verrundung1_edges = [part.edges().sort_by_distance(p)[0] for p in [
        (0, 180, 3.5),
        (130, 180, 3.5),
        (130, 0, 3.5),
        (0, 0, 3.5),
    ]]
    fillet(verrundung1_edges, radius=VERRUNDUNG1_R)


solid = part.part
